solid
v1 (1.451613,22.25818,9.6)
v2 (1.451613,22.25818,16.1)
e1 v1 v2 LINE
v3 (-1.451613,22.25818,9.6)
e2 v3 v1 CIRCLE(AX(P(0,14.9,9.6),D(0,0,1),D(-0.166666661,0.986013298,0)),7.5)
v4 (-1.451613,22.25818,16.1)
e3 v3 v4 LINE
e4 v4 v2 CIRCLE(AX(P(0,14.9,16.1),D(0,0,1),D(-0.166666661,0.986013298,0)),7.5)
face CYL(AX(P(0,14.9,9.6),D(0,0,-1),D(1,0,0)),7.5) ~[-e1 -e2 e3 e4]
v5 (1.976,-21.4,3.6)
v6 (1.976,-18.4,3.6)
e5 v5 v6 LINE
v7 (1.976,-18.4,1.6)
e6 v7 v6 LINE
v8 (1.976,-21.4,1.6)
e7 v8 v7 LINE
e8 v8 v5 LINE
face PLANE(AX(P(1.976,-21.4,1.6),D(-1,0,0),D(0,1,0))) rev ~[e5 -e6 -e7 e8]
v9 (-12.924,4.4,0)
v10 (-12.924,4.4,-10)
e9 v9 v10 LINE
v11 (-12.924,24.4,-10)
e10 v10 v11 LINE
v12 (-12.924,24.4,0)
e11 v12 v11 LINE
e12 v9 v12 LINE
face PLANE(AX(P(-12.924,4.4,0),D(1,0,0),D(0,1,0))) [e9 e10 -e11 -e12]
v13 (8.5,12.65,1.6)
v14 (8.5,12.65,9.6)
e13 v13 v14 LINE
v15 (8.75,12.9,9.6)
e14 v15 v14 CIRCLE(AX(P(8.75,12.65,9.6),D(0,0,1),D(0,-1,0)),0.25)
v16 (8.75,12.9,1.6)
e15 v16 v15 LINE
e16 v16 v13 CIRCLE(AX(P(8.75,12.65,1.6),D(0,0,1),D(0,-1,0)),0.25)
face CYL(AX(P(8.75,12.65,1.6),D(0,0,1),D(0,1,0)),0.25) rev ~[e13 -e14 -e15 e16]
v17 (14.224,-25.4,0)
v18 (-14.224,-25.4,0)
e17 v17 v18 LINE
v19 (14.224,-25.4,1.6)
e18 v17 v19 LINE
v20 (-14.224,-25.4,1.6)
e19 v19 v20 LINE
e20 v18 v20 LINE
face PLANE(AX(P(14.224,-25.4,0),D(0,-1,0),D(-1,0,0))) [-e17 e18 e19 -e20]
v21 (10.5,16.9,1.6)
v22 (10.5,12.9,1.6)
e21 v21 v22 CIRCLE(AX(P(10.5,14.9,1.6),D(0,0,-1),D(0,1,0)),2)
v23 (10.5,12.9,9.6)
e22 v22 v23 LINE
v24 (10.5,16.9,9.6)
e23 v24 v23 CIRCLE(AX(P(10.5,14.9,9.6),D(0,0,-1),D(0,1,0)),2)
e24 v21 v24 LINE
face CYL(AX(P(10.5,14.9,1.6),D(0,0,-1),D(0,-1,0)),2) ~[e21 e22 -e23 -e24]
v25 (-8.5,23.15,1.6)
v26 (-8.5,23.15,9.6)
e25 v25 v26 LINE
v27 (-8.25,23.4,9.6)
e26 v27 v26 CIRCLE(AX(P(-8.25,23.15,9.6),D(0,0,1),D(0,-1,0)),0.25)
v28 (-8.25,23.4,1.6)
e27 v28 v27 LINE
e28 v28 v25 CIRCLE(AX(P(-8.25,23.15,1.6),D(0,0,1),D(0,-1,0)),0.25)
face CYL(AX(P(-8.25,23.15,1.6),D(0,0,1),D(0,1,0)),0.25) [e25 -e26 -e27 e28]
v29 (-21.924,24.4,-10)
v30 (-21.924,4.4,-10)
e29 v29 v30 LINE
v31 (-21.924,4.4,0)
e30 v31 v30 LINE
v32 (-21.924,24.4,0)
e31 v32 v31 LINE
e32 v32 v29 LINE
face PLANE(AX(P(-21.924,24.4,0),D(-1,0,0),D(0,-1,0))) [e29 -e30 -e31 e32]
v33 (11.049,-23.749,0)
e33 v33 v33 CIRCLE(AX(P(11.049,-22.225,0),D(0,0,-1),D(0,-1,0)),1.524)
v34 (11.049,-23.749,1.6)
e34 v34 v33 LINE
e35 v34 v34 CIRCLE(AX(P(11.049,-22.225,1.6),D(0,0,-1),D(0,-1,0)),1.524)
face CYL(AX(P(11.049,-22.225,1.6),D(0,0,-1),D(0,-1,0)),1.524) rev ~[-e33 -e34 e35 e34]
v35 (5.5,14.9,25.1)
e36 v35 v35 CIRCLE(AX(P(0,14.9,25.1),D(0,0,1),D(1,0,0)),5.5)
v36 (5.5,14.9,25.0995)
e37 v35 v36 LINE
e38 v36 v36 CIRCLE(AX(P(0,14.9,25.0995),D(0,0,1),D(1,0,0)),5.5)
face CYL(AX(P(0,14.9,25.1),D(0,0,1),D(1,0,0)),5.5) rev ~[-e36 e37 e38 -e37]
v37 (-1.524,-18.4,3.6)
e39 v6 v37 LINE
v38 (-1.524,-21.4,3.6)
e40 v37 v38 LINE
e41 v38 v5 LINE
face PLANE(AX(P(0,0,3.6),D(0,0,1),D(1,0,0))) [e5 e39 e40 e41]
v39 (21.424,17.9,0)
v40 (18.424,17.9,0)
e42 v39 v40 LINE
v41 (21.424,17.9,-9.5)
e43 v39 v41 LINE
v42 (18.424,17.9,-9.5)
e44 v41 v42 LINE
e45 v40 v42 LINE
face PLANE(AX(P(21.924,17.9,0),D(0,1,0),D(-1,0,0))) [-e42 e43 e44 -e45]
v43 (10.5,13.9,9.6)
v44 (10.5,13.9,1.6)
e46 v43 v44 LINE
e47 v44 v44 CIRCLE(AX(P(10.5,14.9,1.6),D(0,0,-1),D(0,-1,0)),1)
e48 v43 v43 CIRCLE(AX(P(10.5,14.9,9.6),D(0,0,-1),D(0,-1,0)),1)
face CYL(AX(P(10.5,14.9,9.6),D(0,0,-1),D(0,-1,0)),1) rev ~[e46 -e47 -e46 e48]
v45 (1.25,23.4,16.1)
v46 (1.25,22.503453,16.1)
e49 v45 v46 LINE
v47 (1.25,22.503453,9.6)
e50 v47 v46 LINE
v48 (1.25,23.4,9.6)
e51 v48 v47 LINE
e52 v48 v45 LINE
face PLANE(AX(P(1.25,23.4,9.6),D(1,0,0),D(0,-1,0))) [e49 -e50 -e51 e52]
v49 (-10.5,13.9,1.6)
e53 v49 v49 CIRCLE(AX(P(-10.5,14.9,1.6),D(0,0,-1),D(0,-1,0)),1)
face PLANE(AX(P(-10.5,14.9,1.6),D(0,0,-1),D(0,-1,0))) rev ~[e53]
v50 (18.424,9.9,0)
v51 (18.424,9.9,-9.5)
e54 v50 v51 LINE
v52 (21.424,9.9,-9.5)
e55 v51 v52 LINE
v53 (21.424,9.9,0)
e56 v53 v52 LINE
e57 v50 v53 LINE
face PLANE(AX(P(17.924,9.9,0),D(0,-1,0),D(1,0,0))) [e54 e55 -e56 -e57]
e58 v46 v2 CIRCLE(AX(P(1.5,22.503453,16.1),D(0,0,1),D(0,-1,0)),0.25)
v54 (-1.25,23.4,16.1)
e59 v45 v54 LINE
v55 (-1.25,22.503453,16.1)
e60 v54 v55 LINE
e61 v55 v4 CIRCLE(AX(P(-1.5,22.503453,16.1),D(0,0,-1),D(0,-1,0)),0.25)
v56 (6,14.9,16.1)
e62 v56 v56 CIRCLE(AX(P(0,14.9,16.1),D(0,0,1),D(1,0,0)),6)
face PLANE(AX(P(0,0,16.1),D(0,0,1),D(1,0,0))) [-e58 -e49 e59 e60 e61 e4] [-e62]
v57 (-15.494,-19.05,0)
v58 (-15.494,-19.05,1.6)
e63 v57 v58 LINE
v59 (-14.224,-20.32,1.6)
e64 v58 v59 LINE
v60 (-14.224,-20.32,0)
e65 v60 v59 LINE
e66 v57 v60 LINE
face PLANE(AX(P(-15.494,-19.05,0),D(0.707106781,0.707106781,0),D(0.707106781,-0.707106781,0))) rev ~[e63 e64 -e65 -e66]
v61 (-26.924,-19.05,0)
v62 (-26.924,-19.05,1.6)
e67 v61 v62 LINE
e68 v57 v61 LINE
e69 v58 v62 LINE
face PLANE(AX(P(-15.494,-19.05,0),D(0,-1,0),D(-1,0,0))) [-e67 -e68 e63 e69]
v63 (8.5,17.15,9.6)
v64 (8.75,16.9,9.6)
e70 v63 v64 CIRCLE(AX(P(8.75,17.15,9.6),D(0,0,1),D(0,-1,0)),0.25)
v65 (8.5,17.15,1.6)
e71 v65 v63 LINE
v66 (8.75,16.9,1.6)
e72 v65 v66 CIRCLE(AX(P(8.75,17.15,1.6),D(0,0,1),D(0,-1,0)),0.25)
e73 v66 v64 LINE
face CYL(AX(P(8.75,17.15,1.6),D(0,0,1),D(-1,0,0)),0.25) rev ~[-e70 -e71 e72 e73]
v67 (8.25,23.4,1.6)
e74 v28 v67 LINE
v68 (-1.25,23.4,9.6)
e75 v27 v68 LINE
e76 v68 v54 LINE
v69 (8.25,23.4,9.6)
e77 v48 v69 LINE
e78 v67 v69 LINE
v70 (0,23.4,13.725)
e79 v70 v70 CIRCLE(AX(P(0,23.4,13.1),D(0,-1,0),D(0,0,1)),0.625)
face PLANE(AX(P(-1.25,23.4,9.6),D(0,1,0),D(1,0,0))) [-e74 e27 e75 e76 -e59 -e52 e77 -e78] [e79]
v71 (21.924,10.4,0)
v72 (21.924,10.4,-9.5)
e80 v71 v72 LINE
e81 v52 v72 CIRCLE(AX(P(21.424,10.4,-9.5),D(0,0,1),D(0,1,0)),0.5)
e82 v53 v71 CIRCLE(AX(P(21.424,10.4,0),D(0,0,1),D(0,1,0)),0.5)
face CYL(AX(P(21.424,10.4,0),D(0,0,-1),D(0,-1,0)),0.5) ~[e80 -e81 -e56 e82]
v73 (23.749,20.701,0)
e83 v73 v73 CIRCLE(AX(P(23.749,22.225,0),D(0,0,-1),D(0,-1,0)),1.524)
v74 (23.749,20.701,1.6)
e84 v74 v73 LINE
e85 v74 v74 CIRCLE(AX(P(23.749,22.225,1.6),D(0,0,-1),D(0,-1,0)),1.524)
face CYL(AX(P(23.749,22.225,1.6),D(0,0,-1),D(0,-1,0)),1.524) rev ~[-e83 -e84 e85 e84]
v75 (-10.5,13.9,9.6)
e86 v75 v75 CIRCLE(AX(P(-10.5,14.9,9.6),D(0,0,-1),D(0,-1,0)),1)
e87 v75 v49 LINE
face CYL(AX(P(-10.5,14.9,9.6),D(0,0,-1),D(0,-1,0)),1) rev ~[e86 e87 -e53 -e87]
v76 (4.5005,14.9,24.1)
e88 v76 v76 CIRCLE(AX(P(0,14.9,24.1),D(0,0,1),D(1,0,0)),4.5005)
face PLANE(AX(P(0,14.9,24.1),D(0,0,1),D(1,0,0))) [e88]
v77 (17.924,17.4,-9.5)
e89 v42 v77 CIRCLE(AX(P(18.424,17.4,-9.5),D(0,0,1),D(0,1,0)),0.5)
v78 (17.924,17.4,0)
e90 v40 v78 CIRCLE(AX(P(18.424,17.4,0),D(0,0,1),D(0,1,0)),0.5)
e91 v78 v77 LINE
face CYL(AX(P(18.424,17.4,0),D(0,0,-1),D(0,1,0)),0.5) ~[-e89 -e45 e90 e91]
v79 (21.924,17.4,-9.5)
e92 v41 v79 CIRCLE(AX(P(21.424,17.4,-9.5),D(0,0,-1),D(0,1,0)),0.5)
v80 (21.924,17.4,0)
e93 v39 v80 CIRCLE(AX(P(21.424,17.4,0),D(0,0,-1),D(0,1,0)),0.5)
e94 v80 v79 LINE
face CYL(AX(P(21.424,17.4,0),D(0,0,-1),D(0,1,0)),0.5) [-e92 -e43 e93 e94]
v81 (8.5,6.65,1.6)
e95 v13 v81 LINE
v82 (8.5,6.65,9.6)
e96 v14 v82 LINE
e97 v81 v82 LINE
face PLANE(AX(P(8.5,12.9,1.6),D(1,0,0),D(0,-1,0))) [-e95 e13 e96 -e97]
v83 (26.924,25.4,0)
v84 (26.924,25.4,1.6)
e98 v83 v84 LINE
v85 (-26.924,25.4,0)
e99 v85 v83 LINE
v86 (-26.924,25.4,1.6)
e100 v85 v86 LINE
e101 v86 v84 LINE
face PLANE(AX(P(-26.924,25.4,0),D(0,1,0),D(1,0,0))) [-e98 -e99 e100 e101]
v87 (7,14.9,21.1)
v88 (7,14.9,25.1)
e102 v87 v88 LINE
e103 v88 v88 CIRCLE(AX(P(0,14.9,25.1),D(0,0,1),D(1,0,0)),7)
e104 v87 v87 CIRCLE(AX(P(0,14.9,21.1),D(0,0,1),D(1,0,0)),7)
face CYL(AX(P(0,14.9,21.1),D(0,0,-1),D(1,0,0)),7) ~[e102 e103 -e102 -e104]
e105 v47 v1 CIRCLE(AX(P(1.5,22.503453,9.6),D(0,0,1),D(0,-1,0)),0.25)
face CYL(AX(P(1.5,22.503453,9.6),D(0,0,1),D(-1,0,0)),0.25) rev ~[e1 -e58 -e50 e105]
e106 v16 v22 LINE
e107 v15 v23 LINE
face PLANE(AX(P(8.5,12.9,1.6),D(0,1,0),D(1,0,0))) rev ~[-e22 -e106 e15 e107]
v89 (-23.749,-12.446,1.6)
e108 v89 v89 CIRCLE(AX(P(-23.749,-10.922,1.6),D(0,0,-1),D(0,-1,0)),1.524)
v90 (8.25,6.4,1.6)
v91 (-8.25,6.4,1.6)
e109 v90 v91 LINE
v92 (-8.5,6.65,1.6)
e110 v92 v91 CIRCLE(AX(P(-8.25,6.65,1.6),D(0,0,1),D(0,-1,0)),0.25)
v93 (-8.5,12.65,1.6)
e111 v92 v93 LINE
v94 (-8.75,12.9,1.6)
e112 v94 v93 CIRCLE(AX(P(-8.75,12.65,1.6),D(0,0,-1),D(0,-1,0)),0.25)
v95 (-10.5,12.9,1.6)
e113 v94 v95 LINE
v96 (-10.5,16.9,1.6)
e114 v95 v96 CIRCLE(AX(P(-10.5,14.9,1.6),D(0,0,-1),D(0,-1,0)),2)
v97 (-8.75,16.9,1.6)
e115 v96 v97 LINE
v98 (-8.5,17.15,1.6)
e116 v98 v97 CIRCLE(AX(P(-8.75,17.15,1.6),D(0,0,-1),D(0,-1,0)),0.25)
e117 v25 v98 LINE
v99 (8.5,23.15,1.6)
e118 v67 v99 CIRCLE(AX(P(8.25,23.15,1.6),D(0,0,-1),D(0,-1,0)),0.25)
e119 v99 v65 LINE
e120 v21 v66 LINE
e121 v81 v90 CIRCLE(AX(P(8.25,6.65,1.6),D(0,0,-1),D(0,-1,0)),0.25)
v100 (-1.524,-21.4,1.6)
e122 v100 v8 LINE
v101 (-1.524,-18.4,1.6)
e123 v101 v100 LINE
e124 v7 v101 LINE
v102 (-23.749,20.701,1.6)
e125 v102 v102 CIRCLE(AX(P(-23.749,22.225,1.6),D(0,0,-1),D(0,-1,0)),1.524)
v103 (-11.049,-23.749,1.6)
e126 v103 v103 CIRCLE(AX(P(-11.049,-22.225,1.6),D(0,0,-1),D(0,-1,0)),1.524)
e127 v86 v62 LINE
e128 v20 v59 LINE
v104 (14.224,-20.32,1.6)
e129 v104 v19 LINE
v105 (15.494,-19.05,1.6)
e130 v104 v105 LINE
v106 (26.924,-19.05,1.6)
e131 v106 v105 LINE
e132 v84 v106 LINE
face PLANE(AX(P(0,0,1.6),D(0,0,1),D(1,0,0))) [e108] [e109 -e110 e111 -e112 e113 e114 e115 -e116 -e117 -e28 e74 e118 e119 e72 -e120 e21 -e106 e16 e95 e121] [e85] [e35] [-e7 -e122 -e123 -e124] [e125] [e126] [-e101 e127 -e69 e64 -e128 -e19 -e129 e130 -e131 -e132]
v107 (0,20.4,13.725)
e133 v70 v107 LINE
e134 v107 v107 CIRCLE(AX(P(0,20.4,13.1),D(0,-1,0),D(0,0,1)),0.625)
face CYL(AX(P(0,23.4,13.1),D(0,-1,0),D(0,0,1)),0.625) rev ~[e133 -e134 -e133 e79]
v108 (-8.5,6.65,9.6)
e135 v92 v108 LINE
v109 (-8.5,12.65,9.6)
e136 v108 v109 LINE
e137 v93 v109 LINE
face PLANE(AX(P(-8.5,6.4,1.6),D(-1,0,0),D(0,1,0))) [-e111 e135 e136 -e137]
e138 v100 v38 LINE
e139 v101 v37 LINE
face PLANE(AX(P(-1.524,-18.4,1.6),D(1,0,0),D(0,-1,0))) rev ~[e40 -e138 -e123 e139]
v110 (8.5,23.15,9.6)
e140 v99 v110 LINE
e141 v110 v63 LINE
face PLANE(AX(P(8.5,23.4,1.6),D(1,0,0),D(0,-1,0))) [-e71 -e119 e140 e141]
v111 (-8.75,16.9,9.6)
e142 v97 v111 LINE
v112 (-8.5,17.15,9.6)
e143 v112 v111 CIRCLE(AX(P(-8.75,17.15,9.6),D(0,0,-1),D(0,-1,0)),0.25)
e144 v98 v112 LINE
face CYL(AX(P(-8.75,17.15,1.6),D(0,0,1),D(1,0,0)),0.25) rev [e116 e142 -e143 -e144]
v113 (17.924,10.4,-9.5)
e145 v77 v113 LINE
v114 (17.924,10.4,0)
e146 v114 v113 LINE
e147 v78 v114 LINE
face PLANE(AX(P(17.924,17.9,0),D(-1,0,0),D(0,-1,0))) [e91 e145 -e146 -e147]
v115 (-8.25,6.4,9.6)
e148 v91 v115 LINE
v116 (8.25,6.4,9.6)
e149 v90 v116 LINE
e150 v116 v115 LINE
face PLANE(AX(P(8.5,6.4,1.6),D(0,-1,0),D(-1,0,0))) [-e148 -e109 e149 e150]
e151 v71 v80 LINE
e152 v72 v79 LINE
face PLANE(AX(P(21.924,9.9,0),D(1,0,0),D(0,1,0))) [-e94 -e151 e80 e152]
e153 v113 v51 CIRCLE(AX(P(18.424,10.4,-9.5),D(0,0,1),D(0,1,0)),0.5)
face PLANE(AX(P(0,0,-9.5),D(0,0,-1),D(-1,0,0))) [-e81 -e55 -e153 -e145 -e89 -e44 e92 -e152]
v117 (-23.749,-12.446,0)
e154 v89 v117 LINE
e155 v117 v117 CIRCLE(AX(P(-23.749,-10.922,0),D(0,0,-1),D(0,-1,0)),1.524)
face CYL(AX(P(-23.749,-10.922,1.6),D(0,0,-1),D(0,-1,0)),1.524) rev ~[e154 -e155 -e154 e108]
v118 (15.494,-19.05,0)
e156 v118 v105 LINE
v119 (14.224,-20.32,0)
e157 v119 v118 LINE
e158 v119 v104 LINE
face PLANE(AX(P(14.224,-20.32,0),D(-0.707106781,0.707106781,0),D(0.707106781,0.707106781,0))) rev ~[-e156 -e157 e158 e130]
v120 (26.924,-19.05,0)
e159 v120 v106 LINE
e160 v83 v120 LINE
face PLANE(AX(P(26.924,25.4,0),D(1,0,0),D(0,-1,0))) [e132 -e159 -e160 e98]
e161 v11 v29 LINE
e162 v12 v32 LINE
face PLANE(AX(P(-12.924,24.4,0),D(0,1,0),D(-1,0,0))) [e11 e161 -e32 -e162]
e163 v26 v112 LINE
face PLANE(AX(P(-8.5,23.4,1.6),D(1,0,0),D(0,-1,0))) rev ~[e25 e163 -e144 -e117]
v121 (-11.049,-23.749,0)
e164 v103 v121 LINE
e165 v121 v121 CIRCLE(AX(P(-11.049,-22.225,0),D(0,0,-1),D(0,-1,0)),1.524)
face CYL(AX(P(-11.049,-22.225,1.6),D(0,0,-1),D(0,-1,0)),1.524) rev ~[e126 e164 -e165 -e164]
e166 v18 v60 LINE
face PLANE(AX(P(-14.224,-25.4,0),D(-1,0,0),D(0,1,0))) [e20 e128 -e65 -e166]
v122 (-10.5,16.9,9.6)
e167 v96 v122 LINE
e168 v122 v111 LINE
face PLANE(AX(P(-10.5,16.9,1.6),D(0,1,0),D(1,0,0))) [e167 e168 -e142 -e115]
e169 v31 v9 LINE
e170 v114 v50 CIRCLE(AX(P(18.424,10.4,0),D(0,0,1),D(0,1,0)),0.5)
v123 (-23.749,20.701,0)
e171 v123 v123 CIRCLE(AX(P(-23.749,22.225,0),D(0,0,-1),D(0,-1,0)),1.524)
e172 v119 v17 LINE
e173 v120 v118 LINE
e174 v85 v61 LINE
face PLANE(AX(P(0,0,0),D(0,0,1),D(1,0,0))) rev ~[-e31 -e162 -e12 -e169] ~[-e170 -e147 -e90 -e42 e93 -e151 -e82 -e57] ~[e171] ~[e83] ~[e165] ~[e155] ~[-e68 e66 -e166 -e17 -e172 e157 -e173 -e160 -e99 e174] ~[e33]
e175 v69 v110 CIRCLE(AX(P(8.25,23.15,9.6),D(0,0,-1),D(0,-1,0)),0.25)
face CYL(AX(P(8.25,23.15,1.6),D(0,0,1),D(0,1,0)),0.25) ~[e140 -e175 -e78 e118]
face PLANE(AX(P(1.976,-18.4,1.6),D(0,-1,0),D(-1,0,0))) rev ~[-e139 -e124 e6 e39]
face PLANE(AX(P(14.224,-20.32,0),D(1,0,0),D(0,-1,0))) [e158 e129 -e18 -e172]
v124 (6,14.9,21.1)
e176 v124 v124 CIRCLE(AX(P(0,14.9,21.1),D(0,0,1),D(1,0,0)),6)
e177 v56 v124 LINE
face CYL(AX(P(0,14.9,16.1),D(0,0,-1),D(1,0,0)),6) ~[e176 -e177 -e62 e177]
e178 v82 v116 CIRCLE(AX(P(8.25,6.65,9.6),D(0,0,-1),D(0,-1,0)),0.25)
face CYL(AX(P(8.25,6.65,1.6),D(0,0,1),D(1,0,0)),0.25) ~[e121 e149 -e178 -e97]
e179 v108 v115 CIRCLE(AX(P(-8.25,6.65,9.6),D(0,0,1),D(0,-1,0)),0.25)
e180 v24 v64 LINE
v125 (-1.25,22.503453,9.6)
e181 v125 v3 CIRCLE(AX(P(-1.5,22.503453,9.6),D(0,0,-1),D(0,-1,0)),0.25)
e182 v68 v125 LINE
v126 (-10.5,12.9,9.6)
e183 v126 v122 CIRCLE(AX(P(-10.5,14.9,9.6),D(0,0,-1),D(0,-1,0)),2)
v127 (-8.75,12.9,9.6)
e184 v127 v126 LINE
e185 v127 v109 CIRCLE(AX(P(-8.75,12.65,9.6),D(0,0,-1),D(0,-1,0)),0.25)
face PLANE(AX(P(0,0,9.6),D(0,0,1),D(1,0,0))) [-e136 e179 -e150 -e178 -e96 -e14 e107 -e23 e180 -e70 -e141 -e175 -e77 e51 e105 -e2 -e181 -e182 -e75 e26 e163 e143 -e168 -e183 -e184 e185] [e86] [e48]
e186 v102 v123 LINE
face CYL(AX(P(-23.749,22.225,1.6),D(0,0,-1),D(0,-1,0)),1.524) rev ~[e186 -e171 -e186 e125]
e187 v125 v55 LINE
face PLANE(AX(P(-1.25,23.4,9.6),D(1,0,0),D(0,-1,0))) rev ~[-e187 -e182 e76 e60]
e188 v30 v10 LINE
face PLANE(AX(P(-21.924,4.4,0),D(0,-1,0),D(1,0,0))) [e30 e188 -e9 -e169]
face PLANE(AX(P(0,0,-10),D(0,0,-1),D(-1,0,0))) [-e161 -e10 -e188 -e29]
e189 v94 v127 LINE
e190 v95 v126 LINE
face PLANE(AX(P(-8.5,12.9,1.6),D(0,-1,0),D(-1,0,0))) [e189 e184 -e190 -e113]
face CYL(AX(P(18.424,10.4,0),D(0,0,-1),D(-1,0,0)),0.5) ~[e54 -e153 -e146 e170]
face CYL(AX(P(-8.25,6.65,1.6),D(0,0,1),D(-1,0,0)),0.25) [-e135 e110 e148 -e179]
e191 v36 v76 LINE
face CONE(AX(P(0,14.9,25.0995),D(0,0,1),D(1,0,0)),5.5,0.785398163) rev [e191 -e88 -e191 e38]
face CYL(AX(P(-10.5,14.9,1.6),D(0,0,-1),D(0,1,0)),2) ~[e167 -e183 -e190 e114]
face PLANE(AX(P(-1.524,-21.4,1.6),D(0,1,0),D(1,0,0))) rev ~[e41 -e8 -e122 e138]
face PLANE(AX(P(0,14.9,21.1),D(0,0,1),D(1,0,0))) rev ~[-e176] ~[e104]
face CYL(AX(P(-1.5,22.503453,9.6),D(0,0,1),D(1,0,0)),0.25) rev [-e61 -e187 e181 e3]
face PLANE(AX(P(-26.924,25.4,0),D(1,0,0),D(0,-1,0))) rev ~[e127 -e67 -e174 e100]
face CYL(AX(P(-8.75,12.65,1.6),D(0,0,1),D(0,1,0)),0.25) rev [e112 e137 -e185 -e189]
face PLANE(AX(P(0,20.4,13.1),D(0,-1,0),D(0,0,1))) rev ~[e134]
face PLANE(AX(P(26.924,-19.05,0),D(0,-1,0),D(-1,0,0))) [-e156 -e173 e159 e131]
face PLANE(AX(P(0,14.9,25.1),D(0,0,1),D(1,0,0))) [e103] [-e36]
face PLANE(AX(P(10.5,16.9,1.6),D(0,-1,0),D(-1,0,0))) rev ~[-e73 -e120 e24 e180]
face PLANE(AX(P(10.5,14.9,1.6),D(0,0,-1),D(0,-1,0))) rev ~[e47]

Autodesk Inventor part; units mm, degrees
ref_plane "YZ Plane" through (0, 0, 0) normal (1, 0, 0) x (0, 1, 0)
ref_plane "XZ Plane" through (0, 0, 0) normal (0, 1, 0) x (-1, 0, 0)
ref_plane "XY Plane" through (0, 0, 0) normal (0, 0, 1) x (1, 0, 0)
sketch "Sketch1" plane through (0, 0, 0) normal (0, 0, 1) x (1, 0, 0)
  line L0 (-26.924, 25.4) -> (26.924, 25.4)
  line L1 (-26.924, 25.4) -> (-26.924, -19.05)
  line L2 (-14.224, -25.4) -> (-14.224, -20.32)
  line L3 (-15.494, -19.05) -> (-26.924, -19.05)
  line L4 (26.924, 25.4) -> (26.924, -19.05)
  line L5 (26.924, -19.05) -> (15.494, -19.05)
  line L6 (14.224, -20.32) -> (14.224, -25.4)
  line L7 (14.224, -25.4) -> (-14.224, -25.4)
  line L8 (-15.494, -19.05) -> (-14.224, -20.32)
  line L9 (14.224, -20.32) -> (15.494, -19.05)
  point P0 (0, 0)
  point P1 (-14.224, -19.05)
  point P2 (14.224, -19.05)
  dimension "d7" = 1.27
  dimension "d8" = 1.27
  dimension "d9" = 1.27
  dimension "d10" = 1.27
extrude "Extrusion1" add sketch "Sketch1" along normal blind 1.6
sketch "Sketch2" plane through (0, 0, 1.6) normal (0, 0, 1) x (1, 0, 0)
  line L0 (26.924, 25.4) -> (-26.924, 25.4) projected
  line L1 (-26.924, 25.4) -> (-26.924, 22.225)
  line L2 (-26.924, 25.4) -> (-26.924, -19.05) projected
  line L3 (-26.924, 22.225) -> (-23.749, 22.225)
  line L4 (26.924, 22.225) -> (23.749, 22.225)
  line L5 (14.224, -25.4) -> (-14.224, -25.4) projected
  line L6 (-14.224, -25.4) -> (-11.049, -25.4)
  line L7 (-11.049, -25.4) -> (-11.049, -22.225)
  line L8 (14.224, -25.4) -> (11.049, -25.4)
  line L9 (11.049, -25.4) -> (11.049, -22.225)
  line L10 (-26.924, -19.05) -> (-26.924, -10.922)
  line L11 (-26.924, -10.922) -> (-23.749, -10.922)
  point P0 (0, 0)
  dimension "d13" = 3.175
  dimension "d14" = 3.175
  dimension "d15" = 3.175
  dimension "d16" = 3.175
  dimension "d17" = 3.175
  dimension "d18" = 3.175
  dimension "d19" = 8.128
  dimension "d20" = 3.175
hole "Hole1" at (-23.749, 22.225, 1.6) at (23.749, 22.225, 1.6) at (-11.049, -22.225, 1.6) at (11.049, -22.225, 1.6) at (-23.749, -10.922, 1.6) direction (0, 0, -1) diameter 3.048 end through all
sketch "Sketch3" plane through (0, 0, 1.6) normal (0, 0, 1) x (1, 0, 0)
  line L0 (-26.924, 25.4) -> (26.924, 25.4) projected
  line L1 (0, 23.4) -> (8.5, 23.4)
  line L2 (8.5, 23.4) -> (8.5, 16.9)
  line L3 (8.5, 6.4) -> (-8.5, 6.4)
  line L4 (-8.5, 6.4) -> (-8.5, 12.9)
  line L5 (-8.5, 23.4) -> (0, 23.4)
  line L6 (-8.5, 23.4) -> (-8.5, 16.9)
  line L7 (-8.5, 12.9) -> (-10.5, 12.9)
  line L8 (-12.5, 14.9) -> (-12.5, 14.9)
  line L9 (-10.5, 16.9) -> (-8.5, 16.9)
  line L10 (-8.5, 16.9) -> (-8.5, 23.4)
  line L11 (8.5, 12.9) -> (10.5, 12.9)
  line L12 (12.5, 14.9) -> (12.5, 14.9)
  line L13 (10.5, 16.9) -> (8.5, 16.9)
  line L14 (8.5, 12.9) -> (8.5, 6.4)
  arc A0 (-10.5, 16.9) -> (-12.5, 14.9) centre (-10.5, 14.9) ccw
  arc A1 (-12.5, 14.9) -> (-10.5, 12.9) centre (-10.5, 14.9) ccw
  arc A2 (10.5, 12.9) -> (12.5, 14.9) centre (10.5, 14.9) ccw
  arc A3 (12.5, 14.9) -> (10.5, 16.9) centre (10.5, 14.9) ccw
  point P0 (0, 0)
  dimension "d35" = 2
extrude "Extrusion2" add sketch "Sketch3" along normal blind 8
sketch "Sketch4" plane through (0, 0, 9.6) normal (0, 0, 1) x (1, 0, 0)
  circle A0 centre (0, 14.9) radius 7.5
  point P0 (0, 0)
  dimension "d38" = 15
extrude "Extrusion3" add sketch "Sketch4" along normal blind 6.5
sketch "Sketch5" plane through (0, 14.9, 16.1) normal (0, 0, 1) x (1, 0, 0)
  circle A0 centre (0, 0) radius 6
  point P0 (0, -14.9)
  dimension "d41" = 12
extrude "Extrusion4" add sketch "Sketch5" along normal blind 5
sketch "Sketch6" plane through (0, 14.9, 21.1) normal (0, 0, 1) x (1, 0, 0)
  circle A0 centre (0, 0) radius 7
  point P0 (0, -14.9)
  dimension "d44" = 14
extrude "Extrusion5" add sketch "Sketch6" along normal blind 4
sketch "Sketch7" plane through (0, 14.9, 25.1) normal (0, 0, 1) x (1, 0, 0)
  circle A0 centre (0, 0) radius 5.5
  point P0 (0, -14.9)
  dimension "d47" = 11
extrude "Extrusion6" cut sketch "Sketch7" against normal blind 1
chamfer "Chamfer1" distance 1 angle 45 1 edges at (-5.5, 14.9, 24.1)
sketch "Sketch8" plane through (0, 0, 9.6) normal (0, 0, 1) x (1, 0, 0)
  line L0 (-8.5, 23.4) -> (8.5, 23.4) projected
  line L1 (0, 23.4) -> (1.25, 23.4)
  line L2 (1.25, 23.4) -> (1.25, 22.2951)
  line L3 (0, 23.4) -> (-1.25, 23.4)
  line L4 (-1.25, 23.4) -> (-1.25, 22.2951)
  arc A0 (-1.25, 22.2951) -> (1.25, 22.2951) centre (0, 14.9) ccw
  arc A1 (1.25, 22.2951) -> (-1.25, 22.2951) centre (0, 14.9) ccw
  point P0 (0, 0)
  dimension "d53" = 1.25
  dimension "d54" = 1.25
extrude "Extrusion7" add sketch "Sketch8" along normal up to surface (6.5 mm away) contours L0 L2 A1 L4
sketch "Sketch9" plane through (-8.5, 23.4, 1.6) normal (0, 1, 0) x (1, 0, 0)
  line L0 (7.25, -14.5) -> (9.75, -14.5) projected
  line L1 (8.5, -14.5) -> (8.5, -11.5)
  point P0 (8.5, 1.6)
  dimension "d57" = 3
hole "Hole2" at (0, 23.4, 13.1) direction (0, -1, 0) diameter 1.25 depth 3
sketch "Sketch10" plane through (0, 0, 9.6) normal (0, 0, 1) x (1, 0, 0)
  arc A0 (-10.5, 16.9) -> (-10.5, 12.9) centre (-10.5, 14.9) ccw projected
  arc A1 (10.5, 12.9) -> (10.5, 16.9) centre (10.5, 14.9) ccw projected
  point P0 (0, 0)
hole "Hole3" at (-10.5, 14.9, 9.6) at (10.5, 14.9, 9.6) direction (0, 0, -1) diameter 2 depth 8
sketch "Sketch11" plane through (0, 0, 0) normal (0, 0, -1) x (-1, 0, 0)
  line L0 (26.924, 25.4) -> (26.924, -19.05) projected
  line L1 (26.924, 25.4) -> (26.924, 24.4)
  line L2 (26.924, 24.4) -> (21.924, 24.4)
  line L3 (21.924, 24.4) -> (21.924, 4.4)
  line L4 (21.924, 4.4) -> (12.924, 4.4)
  line L5 (12.924, 4.4) -> (12.924, 24.4)
  line L6 (12.924, 24.4) -> (21.924, 24.4)
  point P0 (0, 0)
  dimension "d72" = 1
  dimension "d73" = 5
  dimension "d74" = 20
  dimension "d75" = 9
extrude "Extrusion8" add sketch "Sketch11" along normal blind 10
sketch "Sketch13" plane through (0, 0, 0) normal (0, 0, -1) x (-1, 0, 0)
  line L0 (-26.924, 25.4) -> (26.924, 25.4) projected
  line L1 (-26.924, 25.4) -> (-21.924, 25.4)
  line L2 (-21.924, 25.4) -> (-21.924, 17.9)
  line L3 (-21.924, 17.9) -> (-17.924, 17.9)
  line L4 (-17.924, 17.9) -> (-17.924, 9.9)
  line L5 (-17.924, 9.9) -> (-21.924, 9.9)
  line L6 (-21.924, 9.9) -> (-21.924, 17.9)
  point P0 (0, 0)
  dimension "d78" = 5
  dimension "d79" = 7.5
  dimension "d80" = 4
  dimension "d81" = 8
extrude "Extrusion9" add sketch "Sketch13" along normal blind 9.5
fillet "Fillet1" radius 0.5 4 edges at (21.924, 17.9, -4.75) (21.924, 9.9, -4.75) (17.924, 9.9, -4.75) (17.924, 17.9, -4.75)
sketch "Sketch14" plane through (0, 0, 1.6) normal (0, 0, 1) x (1, 0, 0)
  line L0 (-14.224, -25.4) -> (-14.224, -20.32) projected
  line L1 (-14.224, -25.4) -> (-1.524, -25.4)
  line L2 (14.224, -25.4) -> (-14.224, -25.4) projected
  line L3 (-1.524, -25.4) -> (-1.524, -21.4)
  line L4 (-1.524, -21.4) -> (1.976, -21.4)
  line L5 (1.976, -21.4) -> (1.976, -18.4)
  line L6 (1.976, -18.4) -> (-1.524, -18.4)
  line L7 (-1.524, -18.4) -> (-1.524, -21.4)
  point P0 (0, 0)
  dimension "d85" = 12.7
  dimension "d86" = 4
  dimension "d87" = 3.5
  dimension "d88" = 3
extrude "Extrusion10" add sketch "Sketch14" along normal blind 2
fillet "Fillet2" radius 0.25 10 edges at (1.25, 22.2951, 12.85) (-1.25, 22.2951, 12.85) (8.5, 23.4, 5.6) (8.5, 16.9, 5.6) (8.5, 6.4, 5.6) (-8.5, 23.4, 5.6) (-8.5, 16.9, 5.6) (-8.5, 12.9, 5.6) (8.5, 12.9, 5.6) (-8.5, 6.4, 5.6)
equation "\"d8\" = d7"
equation "\"d9\" = d7"
equation "\"d10\" = d9"
properties part number "PixyCMUcam5"
